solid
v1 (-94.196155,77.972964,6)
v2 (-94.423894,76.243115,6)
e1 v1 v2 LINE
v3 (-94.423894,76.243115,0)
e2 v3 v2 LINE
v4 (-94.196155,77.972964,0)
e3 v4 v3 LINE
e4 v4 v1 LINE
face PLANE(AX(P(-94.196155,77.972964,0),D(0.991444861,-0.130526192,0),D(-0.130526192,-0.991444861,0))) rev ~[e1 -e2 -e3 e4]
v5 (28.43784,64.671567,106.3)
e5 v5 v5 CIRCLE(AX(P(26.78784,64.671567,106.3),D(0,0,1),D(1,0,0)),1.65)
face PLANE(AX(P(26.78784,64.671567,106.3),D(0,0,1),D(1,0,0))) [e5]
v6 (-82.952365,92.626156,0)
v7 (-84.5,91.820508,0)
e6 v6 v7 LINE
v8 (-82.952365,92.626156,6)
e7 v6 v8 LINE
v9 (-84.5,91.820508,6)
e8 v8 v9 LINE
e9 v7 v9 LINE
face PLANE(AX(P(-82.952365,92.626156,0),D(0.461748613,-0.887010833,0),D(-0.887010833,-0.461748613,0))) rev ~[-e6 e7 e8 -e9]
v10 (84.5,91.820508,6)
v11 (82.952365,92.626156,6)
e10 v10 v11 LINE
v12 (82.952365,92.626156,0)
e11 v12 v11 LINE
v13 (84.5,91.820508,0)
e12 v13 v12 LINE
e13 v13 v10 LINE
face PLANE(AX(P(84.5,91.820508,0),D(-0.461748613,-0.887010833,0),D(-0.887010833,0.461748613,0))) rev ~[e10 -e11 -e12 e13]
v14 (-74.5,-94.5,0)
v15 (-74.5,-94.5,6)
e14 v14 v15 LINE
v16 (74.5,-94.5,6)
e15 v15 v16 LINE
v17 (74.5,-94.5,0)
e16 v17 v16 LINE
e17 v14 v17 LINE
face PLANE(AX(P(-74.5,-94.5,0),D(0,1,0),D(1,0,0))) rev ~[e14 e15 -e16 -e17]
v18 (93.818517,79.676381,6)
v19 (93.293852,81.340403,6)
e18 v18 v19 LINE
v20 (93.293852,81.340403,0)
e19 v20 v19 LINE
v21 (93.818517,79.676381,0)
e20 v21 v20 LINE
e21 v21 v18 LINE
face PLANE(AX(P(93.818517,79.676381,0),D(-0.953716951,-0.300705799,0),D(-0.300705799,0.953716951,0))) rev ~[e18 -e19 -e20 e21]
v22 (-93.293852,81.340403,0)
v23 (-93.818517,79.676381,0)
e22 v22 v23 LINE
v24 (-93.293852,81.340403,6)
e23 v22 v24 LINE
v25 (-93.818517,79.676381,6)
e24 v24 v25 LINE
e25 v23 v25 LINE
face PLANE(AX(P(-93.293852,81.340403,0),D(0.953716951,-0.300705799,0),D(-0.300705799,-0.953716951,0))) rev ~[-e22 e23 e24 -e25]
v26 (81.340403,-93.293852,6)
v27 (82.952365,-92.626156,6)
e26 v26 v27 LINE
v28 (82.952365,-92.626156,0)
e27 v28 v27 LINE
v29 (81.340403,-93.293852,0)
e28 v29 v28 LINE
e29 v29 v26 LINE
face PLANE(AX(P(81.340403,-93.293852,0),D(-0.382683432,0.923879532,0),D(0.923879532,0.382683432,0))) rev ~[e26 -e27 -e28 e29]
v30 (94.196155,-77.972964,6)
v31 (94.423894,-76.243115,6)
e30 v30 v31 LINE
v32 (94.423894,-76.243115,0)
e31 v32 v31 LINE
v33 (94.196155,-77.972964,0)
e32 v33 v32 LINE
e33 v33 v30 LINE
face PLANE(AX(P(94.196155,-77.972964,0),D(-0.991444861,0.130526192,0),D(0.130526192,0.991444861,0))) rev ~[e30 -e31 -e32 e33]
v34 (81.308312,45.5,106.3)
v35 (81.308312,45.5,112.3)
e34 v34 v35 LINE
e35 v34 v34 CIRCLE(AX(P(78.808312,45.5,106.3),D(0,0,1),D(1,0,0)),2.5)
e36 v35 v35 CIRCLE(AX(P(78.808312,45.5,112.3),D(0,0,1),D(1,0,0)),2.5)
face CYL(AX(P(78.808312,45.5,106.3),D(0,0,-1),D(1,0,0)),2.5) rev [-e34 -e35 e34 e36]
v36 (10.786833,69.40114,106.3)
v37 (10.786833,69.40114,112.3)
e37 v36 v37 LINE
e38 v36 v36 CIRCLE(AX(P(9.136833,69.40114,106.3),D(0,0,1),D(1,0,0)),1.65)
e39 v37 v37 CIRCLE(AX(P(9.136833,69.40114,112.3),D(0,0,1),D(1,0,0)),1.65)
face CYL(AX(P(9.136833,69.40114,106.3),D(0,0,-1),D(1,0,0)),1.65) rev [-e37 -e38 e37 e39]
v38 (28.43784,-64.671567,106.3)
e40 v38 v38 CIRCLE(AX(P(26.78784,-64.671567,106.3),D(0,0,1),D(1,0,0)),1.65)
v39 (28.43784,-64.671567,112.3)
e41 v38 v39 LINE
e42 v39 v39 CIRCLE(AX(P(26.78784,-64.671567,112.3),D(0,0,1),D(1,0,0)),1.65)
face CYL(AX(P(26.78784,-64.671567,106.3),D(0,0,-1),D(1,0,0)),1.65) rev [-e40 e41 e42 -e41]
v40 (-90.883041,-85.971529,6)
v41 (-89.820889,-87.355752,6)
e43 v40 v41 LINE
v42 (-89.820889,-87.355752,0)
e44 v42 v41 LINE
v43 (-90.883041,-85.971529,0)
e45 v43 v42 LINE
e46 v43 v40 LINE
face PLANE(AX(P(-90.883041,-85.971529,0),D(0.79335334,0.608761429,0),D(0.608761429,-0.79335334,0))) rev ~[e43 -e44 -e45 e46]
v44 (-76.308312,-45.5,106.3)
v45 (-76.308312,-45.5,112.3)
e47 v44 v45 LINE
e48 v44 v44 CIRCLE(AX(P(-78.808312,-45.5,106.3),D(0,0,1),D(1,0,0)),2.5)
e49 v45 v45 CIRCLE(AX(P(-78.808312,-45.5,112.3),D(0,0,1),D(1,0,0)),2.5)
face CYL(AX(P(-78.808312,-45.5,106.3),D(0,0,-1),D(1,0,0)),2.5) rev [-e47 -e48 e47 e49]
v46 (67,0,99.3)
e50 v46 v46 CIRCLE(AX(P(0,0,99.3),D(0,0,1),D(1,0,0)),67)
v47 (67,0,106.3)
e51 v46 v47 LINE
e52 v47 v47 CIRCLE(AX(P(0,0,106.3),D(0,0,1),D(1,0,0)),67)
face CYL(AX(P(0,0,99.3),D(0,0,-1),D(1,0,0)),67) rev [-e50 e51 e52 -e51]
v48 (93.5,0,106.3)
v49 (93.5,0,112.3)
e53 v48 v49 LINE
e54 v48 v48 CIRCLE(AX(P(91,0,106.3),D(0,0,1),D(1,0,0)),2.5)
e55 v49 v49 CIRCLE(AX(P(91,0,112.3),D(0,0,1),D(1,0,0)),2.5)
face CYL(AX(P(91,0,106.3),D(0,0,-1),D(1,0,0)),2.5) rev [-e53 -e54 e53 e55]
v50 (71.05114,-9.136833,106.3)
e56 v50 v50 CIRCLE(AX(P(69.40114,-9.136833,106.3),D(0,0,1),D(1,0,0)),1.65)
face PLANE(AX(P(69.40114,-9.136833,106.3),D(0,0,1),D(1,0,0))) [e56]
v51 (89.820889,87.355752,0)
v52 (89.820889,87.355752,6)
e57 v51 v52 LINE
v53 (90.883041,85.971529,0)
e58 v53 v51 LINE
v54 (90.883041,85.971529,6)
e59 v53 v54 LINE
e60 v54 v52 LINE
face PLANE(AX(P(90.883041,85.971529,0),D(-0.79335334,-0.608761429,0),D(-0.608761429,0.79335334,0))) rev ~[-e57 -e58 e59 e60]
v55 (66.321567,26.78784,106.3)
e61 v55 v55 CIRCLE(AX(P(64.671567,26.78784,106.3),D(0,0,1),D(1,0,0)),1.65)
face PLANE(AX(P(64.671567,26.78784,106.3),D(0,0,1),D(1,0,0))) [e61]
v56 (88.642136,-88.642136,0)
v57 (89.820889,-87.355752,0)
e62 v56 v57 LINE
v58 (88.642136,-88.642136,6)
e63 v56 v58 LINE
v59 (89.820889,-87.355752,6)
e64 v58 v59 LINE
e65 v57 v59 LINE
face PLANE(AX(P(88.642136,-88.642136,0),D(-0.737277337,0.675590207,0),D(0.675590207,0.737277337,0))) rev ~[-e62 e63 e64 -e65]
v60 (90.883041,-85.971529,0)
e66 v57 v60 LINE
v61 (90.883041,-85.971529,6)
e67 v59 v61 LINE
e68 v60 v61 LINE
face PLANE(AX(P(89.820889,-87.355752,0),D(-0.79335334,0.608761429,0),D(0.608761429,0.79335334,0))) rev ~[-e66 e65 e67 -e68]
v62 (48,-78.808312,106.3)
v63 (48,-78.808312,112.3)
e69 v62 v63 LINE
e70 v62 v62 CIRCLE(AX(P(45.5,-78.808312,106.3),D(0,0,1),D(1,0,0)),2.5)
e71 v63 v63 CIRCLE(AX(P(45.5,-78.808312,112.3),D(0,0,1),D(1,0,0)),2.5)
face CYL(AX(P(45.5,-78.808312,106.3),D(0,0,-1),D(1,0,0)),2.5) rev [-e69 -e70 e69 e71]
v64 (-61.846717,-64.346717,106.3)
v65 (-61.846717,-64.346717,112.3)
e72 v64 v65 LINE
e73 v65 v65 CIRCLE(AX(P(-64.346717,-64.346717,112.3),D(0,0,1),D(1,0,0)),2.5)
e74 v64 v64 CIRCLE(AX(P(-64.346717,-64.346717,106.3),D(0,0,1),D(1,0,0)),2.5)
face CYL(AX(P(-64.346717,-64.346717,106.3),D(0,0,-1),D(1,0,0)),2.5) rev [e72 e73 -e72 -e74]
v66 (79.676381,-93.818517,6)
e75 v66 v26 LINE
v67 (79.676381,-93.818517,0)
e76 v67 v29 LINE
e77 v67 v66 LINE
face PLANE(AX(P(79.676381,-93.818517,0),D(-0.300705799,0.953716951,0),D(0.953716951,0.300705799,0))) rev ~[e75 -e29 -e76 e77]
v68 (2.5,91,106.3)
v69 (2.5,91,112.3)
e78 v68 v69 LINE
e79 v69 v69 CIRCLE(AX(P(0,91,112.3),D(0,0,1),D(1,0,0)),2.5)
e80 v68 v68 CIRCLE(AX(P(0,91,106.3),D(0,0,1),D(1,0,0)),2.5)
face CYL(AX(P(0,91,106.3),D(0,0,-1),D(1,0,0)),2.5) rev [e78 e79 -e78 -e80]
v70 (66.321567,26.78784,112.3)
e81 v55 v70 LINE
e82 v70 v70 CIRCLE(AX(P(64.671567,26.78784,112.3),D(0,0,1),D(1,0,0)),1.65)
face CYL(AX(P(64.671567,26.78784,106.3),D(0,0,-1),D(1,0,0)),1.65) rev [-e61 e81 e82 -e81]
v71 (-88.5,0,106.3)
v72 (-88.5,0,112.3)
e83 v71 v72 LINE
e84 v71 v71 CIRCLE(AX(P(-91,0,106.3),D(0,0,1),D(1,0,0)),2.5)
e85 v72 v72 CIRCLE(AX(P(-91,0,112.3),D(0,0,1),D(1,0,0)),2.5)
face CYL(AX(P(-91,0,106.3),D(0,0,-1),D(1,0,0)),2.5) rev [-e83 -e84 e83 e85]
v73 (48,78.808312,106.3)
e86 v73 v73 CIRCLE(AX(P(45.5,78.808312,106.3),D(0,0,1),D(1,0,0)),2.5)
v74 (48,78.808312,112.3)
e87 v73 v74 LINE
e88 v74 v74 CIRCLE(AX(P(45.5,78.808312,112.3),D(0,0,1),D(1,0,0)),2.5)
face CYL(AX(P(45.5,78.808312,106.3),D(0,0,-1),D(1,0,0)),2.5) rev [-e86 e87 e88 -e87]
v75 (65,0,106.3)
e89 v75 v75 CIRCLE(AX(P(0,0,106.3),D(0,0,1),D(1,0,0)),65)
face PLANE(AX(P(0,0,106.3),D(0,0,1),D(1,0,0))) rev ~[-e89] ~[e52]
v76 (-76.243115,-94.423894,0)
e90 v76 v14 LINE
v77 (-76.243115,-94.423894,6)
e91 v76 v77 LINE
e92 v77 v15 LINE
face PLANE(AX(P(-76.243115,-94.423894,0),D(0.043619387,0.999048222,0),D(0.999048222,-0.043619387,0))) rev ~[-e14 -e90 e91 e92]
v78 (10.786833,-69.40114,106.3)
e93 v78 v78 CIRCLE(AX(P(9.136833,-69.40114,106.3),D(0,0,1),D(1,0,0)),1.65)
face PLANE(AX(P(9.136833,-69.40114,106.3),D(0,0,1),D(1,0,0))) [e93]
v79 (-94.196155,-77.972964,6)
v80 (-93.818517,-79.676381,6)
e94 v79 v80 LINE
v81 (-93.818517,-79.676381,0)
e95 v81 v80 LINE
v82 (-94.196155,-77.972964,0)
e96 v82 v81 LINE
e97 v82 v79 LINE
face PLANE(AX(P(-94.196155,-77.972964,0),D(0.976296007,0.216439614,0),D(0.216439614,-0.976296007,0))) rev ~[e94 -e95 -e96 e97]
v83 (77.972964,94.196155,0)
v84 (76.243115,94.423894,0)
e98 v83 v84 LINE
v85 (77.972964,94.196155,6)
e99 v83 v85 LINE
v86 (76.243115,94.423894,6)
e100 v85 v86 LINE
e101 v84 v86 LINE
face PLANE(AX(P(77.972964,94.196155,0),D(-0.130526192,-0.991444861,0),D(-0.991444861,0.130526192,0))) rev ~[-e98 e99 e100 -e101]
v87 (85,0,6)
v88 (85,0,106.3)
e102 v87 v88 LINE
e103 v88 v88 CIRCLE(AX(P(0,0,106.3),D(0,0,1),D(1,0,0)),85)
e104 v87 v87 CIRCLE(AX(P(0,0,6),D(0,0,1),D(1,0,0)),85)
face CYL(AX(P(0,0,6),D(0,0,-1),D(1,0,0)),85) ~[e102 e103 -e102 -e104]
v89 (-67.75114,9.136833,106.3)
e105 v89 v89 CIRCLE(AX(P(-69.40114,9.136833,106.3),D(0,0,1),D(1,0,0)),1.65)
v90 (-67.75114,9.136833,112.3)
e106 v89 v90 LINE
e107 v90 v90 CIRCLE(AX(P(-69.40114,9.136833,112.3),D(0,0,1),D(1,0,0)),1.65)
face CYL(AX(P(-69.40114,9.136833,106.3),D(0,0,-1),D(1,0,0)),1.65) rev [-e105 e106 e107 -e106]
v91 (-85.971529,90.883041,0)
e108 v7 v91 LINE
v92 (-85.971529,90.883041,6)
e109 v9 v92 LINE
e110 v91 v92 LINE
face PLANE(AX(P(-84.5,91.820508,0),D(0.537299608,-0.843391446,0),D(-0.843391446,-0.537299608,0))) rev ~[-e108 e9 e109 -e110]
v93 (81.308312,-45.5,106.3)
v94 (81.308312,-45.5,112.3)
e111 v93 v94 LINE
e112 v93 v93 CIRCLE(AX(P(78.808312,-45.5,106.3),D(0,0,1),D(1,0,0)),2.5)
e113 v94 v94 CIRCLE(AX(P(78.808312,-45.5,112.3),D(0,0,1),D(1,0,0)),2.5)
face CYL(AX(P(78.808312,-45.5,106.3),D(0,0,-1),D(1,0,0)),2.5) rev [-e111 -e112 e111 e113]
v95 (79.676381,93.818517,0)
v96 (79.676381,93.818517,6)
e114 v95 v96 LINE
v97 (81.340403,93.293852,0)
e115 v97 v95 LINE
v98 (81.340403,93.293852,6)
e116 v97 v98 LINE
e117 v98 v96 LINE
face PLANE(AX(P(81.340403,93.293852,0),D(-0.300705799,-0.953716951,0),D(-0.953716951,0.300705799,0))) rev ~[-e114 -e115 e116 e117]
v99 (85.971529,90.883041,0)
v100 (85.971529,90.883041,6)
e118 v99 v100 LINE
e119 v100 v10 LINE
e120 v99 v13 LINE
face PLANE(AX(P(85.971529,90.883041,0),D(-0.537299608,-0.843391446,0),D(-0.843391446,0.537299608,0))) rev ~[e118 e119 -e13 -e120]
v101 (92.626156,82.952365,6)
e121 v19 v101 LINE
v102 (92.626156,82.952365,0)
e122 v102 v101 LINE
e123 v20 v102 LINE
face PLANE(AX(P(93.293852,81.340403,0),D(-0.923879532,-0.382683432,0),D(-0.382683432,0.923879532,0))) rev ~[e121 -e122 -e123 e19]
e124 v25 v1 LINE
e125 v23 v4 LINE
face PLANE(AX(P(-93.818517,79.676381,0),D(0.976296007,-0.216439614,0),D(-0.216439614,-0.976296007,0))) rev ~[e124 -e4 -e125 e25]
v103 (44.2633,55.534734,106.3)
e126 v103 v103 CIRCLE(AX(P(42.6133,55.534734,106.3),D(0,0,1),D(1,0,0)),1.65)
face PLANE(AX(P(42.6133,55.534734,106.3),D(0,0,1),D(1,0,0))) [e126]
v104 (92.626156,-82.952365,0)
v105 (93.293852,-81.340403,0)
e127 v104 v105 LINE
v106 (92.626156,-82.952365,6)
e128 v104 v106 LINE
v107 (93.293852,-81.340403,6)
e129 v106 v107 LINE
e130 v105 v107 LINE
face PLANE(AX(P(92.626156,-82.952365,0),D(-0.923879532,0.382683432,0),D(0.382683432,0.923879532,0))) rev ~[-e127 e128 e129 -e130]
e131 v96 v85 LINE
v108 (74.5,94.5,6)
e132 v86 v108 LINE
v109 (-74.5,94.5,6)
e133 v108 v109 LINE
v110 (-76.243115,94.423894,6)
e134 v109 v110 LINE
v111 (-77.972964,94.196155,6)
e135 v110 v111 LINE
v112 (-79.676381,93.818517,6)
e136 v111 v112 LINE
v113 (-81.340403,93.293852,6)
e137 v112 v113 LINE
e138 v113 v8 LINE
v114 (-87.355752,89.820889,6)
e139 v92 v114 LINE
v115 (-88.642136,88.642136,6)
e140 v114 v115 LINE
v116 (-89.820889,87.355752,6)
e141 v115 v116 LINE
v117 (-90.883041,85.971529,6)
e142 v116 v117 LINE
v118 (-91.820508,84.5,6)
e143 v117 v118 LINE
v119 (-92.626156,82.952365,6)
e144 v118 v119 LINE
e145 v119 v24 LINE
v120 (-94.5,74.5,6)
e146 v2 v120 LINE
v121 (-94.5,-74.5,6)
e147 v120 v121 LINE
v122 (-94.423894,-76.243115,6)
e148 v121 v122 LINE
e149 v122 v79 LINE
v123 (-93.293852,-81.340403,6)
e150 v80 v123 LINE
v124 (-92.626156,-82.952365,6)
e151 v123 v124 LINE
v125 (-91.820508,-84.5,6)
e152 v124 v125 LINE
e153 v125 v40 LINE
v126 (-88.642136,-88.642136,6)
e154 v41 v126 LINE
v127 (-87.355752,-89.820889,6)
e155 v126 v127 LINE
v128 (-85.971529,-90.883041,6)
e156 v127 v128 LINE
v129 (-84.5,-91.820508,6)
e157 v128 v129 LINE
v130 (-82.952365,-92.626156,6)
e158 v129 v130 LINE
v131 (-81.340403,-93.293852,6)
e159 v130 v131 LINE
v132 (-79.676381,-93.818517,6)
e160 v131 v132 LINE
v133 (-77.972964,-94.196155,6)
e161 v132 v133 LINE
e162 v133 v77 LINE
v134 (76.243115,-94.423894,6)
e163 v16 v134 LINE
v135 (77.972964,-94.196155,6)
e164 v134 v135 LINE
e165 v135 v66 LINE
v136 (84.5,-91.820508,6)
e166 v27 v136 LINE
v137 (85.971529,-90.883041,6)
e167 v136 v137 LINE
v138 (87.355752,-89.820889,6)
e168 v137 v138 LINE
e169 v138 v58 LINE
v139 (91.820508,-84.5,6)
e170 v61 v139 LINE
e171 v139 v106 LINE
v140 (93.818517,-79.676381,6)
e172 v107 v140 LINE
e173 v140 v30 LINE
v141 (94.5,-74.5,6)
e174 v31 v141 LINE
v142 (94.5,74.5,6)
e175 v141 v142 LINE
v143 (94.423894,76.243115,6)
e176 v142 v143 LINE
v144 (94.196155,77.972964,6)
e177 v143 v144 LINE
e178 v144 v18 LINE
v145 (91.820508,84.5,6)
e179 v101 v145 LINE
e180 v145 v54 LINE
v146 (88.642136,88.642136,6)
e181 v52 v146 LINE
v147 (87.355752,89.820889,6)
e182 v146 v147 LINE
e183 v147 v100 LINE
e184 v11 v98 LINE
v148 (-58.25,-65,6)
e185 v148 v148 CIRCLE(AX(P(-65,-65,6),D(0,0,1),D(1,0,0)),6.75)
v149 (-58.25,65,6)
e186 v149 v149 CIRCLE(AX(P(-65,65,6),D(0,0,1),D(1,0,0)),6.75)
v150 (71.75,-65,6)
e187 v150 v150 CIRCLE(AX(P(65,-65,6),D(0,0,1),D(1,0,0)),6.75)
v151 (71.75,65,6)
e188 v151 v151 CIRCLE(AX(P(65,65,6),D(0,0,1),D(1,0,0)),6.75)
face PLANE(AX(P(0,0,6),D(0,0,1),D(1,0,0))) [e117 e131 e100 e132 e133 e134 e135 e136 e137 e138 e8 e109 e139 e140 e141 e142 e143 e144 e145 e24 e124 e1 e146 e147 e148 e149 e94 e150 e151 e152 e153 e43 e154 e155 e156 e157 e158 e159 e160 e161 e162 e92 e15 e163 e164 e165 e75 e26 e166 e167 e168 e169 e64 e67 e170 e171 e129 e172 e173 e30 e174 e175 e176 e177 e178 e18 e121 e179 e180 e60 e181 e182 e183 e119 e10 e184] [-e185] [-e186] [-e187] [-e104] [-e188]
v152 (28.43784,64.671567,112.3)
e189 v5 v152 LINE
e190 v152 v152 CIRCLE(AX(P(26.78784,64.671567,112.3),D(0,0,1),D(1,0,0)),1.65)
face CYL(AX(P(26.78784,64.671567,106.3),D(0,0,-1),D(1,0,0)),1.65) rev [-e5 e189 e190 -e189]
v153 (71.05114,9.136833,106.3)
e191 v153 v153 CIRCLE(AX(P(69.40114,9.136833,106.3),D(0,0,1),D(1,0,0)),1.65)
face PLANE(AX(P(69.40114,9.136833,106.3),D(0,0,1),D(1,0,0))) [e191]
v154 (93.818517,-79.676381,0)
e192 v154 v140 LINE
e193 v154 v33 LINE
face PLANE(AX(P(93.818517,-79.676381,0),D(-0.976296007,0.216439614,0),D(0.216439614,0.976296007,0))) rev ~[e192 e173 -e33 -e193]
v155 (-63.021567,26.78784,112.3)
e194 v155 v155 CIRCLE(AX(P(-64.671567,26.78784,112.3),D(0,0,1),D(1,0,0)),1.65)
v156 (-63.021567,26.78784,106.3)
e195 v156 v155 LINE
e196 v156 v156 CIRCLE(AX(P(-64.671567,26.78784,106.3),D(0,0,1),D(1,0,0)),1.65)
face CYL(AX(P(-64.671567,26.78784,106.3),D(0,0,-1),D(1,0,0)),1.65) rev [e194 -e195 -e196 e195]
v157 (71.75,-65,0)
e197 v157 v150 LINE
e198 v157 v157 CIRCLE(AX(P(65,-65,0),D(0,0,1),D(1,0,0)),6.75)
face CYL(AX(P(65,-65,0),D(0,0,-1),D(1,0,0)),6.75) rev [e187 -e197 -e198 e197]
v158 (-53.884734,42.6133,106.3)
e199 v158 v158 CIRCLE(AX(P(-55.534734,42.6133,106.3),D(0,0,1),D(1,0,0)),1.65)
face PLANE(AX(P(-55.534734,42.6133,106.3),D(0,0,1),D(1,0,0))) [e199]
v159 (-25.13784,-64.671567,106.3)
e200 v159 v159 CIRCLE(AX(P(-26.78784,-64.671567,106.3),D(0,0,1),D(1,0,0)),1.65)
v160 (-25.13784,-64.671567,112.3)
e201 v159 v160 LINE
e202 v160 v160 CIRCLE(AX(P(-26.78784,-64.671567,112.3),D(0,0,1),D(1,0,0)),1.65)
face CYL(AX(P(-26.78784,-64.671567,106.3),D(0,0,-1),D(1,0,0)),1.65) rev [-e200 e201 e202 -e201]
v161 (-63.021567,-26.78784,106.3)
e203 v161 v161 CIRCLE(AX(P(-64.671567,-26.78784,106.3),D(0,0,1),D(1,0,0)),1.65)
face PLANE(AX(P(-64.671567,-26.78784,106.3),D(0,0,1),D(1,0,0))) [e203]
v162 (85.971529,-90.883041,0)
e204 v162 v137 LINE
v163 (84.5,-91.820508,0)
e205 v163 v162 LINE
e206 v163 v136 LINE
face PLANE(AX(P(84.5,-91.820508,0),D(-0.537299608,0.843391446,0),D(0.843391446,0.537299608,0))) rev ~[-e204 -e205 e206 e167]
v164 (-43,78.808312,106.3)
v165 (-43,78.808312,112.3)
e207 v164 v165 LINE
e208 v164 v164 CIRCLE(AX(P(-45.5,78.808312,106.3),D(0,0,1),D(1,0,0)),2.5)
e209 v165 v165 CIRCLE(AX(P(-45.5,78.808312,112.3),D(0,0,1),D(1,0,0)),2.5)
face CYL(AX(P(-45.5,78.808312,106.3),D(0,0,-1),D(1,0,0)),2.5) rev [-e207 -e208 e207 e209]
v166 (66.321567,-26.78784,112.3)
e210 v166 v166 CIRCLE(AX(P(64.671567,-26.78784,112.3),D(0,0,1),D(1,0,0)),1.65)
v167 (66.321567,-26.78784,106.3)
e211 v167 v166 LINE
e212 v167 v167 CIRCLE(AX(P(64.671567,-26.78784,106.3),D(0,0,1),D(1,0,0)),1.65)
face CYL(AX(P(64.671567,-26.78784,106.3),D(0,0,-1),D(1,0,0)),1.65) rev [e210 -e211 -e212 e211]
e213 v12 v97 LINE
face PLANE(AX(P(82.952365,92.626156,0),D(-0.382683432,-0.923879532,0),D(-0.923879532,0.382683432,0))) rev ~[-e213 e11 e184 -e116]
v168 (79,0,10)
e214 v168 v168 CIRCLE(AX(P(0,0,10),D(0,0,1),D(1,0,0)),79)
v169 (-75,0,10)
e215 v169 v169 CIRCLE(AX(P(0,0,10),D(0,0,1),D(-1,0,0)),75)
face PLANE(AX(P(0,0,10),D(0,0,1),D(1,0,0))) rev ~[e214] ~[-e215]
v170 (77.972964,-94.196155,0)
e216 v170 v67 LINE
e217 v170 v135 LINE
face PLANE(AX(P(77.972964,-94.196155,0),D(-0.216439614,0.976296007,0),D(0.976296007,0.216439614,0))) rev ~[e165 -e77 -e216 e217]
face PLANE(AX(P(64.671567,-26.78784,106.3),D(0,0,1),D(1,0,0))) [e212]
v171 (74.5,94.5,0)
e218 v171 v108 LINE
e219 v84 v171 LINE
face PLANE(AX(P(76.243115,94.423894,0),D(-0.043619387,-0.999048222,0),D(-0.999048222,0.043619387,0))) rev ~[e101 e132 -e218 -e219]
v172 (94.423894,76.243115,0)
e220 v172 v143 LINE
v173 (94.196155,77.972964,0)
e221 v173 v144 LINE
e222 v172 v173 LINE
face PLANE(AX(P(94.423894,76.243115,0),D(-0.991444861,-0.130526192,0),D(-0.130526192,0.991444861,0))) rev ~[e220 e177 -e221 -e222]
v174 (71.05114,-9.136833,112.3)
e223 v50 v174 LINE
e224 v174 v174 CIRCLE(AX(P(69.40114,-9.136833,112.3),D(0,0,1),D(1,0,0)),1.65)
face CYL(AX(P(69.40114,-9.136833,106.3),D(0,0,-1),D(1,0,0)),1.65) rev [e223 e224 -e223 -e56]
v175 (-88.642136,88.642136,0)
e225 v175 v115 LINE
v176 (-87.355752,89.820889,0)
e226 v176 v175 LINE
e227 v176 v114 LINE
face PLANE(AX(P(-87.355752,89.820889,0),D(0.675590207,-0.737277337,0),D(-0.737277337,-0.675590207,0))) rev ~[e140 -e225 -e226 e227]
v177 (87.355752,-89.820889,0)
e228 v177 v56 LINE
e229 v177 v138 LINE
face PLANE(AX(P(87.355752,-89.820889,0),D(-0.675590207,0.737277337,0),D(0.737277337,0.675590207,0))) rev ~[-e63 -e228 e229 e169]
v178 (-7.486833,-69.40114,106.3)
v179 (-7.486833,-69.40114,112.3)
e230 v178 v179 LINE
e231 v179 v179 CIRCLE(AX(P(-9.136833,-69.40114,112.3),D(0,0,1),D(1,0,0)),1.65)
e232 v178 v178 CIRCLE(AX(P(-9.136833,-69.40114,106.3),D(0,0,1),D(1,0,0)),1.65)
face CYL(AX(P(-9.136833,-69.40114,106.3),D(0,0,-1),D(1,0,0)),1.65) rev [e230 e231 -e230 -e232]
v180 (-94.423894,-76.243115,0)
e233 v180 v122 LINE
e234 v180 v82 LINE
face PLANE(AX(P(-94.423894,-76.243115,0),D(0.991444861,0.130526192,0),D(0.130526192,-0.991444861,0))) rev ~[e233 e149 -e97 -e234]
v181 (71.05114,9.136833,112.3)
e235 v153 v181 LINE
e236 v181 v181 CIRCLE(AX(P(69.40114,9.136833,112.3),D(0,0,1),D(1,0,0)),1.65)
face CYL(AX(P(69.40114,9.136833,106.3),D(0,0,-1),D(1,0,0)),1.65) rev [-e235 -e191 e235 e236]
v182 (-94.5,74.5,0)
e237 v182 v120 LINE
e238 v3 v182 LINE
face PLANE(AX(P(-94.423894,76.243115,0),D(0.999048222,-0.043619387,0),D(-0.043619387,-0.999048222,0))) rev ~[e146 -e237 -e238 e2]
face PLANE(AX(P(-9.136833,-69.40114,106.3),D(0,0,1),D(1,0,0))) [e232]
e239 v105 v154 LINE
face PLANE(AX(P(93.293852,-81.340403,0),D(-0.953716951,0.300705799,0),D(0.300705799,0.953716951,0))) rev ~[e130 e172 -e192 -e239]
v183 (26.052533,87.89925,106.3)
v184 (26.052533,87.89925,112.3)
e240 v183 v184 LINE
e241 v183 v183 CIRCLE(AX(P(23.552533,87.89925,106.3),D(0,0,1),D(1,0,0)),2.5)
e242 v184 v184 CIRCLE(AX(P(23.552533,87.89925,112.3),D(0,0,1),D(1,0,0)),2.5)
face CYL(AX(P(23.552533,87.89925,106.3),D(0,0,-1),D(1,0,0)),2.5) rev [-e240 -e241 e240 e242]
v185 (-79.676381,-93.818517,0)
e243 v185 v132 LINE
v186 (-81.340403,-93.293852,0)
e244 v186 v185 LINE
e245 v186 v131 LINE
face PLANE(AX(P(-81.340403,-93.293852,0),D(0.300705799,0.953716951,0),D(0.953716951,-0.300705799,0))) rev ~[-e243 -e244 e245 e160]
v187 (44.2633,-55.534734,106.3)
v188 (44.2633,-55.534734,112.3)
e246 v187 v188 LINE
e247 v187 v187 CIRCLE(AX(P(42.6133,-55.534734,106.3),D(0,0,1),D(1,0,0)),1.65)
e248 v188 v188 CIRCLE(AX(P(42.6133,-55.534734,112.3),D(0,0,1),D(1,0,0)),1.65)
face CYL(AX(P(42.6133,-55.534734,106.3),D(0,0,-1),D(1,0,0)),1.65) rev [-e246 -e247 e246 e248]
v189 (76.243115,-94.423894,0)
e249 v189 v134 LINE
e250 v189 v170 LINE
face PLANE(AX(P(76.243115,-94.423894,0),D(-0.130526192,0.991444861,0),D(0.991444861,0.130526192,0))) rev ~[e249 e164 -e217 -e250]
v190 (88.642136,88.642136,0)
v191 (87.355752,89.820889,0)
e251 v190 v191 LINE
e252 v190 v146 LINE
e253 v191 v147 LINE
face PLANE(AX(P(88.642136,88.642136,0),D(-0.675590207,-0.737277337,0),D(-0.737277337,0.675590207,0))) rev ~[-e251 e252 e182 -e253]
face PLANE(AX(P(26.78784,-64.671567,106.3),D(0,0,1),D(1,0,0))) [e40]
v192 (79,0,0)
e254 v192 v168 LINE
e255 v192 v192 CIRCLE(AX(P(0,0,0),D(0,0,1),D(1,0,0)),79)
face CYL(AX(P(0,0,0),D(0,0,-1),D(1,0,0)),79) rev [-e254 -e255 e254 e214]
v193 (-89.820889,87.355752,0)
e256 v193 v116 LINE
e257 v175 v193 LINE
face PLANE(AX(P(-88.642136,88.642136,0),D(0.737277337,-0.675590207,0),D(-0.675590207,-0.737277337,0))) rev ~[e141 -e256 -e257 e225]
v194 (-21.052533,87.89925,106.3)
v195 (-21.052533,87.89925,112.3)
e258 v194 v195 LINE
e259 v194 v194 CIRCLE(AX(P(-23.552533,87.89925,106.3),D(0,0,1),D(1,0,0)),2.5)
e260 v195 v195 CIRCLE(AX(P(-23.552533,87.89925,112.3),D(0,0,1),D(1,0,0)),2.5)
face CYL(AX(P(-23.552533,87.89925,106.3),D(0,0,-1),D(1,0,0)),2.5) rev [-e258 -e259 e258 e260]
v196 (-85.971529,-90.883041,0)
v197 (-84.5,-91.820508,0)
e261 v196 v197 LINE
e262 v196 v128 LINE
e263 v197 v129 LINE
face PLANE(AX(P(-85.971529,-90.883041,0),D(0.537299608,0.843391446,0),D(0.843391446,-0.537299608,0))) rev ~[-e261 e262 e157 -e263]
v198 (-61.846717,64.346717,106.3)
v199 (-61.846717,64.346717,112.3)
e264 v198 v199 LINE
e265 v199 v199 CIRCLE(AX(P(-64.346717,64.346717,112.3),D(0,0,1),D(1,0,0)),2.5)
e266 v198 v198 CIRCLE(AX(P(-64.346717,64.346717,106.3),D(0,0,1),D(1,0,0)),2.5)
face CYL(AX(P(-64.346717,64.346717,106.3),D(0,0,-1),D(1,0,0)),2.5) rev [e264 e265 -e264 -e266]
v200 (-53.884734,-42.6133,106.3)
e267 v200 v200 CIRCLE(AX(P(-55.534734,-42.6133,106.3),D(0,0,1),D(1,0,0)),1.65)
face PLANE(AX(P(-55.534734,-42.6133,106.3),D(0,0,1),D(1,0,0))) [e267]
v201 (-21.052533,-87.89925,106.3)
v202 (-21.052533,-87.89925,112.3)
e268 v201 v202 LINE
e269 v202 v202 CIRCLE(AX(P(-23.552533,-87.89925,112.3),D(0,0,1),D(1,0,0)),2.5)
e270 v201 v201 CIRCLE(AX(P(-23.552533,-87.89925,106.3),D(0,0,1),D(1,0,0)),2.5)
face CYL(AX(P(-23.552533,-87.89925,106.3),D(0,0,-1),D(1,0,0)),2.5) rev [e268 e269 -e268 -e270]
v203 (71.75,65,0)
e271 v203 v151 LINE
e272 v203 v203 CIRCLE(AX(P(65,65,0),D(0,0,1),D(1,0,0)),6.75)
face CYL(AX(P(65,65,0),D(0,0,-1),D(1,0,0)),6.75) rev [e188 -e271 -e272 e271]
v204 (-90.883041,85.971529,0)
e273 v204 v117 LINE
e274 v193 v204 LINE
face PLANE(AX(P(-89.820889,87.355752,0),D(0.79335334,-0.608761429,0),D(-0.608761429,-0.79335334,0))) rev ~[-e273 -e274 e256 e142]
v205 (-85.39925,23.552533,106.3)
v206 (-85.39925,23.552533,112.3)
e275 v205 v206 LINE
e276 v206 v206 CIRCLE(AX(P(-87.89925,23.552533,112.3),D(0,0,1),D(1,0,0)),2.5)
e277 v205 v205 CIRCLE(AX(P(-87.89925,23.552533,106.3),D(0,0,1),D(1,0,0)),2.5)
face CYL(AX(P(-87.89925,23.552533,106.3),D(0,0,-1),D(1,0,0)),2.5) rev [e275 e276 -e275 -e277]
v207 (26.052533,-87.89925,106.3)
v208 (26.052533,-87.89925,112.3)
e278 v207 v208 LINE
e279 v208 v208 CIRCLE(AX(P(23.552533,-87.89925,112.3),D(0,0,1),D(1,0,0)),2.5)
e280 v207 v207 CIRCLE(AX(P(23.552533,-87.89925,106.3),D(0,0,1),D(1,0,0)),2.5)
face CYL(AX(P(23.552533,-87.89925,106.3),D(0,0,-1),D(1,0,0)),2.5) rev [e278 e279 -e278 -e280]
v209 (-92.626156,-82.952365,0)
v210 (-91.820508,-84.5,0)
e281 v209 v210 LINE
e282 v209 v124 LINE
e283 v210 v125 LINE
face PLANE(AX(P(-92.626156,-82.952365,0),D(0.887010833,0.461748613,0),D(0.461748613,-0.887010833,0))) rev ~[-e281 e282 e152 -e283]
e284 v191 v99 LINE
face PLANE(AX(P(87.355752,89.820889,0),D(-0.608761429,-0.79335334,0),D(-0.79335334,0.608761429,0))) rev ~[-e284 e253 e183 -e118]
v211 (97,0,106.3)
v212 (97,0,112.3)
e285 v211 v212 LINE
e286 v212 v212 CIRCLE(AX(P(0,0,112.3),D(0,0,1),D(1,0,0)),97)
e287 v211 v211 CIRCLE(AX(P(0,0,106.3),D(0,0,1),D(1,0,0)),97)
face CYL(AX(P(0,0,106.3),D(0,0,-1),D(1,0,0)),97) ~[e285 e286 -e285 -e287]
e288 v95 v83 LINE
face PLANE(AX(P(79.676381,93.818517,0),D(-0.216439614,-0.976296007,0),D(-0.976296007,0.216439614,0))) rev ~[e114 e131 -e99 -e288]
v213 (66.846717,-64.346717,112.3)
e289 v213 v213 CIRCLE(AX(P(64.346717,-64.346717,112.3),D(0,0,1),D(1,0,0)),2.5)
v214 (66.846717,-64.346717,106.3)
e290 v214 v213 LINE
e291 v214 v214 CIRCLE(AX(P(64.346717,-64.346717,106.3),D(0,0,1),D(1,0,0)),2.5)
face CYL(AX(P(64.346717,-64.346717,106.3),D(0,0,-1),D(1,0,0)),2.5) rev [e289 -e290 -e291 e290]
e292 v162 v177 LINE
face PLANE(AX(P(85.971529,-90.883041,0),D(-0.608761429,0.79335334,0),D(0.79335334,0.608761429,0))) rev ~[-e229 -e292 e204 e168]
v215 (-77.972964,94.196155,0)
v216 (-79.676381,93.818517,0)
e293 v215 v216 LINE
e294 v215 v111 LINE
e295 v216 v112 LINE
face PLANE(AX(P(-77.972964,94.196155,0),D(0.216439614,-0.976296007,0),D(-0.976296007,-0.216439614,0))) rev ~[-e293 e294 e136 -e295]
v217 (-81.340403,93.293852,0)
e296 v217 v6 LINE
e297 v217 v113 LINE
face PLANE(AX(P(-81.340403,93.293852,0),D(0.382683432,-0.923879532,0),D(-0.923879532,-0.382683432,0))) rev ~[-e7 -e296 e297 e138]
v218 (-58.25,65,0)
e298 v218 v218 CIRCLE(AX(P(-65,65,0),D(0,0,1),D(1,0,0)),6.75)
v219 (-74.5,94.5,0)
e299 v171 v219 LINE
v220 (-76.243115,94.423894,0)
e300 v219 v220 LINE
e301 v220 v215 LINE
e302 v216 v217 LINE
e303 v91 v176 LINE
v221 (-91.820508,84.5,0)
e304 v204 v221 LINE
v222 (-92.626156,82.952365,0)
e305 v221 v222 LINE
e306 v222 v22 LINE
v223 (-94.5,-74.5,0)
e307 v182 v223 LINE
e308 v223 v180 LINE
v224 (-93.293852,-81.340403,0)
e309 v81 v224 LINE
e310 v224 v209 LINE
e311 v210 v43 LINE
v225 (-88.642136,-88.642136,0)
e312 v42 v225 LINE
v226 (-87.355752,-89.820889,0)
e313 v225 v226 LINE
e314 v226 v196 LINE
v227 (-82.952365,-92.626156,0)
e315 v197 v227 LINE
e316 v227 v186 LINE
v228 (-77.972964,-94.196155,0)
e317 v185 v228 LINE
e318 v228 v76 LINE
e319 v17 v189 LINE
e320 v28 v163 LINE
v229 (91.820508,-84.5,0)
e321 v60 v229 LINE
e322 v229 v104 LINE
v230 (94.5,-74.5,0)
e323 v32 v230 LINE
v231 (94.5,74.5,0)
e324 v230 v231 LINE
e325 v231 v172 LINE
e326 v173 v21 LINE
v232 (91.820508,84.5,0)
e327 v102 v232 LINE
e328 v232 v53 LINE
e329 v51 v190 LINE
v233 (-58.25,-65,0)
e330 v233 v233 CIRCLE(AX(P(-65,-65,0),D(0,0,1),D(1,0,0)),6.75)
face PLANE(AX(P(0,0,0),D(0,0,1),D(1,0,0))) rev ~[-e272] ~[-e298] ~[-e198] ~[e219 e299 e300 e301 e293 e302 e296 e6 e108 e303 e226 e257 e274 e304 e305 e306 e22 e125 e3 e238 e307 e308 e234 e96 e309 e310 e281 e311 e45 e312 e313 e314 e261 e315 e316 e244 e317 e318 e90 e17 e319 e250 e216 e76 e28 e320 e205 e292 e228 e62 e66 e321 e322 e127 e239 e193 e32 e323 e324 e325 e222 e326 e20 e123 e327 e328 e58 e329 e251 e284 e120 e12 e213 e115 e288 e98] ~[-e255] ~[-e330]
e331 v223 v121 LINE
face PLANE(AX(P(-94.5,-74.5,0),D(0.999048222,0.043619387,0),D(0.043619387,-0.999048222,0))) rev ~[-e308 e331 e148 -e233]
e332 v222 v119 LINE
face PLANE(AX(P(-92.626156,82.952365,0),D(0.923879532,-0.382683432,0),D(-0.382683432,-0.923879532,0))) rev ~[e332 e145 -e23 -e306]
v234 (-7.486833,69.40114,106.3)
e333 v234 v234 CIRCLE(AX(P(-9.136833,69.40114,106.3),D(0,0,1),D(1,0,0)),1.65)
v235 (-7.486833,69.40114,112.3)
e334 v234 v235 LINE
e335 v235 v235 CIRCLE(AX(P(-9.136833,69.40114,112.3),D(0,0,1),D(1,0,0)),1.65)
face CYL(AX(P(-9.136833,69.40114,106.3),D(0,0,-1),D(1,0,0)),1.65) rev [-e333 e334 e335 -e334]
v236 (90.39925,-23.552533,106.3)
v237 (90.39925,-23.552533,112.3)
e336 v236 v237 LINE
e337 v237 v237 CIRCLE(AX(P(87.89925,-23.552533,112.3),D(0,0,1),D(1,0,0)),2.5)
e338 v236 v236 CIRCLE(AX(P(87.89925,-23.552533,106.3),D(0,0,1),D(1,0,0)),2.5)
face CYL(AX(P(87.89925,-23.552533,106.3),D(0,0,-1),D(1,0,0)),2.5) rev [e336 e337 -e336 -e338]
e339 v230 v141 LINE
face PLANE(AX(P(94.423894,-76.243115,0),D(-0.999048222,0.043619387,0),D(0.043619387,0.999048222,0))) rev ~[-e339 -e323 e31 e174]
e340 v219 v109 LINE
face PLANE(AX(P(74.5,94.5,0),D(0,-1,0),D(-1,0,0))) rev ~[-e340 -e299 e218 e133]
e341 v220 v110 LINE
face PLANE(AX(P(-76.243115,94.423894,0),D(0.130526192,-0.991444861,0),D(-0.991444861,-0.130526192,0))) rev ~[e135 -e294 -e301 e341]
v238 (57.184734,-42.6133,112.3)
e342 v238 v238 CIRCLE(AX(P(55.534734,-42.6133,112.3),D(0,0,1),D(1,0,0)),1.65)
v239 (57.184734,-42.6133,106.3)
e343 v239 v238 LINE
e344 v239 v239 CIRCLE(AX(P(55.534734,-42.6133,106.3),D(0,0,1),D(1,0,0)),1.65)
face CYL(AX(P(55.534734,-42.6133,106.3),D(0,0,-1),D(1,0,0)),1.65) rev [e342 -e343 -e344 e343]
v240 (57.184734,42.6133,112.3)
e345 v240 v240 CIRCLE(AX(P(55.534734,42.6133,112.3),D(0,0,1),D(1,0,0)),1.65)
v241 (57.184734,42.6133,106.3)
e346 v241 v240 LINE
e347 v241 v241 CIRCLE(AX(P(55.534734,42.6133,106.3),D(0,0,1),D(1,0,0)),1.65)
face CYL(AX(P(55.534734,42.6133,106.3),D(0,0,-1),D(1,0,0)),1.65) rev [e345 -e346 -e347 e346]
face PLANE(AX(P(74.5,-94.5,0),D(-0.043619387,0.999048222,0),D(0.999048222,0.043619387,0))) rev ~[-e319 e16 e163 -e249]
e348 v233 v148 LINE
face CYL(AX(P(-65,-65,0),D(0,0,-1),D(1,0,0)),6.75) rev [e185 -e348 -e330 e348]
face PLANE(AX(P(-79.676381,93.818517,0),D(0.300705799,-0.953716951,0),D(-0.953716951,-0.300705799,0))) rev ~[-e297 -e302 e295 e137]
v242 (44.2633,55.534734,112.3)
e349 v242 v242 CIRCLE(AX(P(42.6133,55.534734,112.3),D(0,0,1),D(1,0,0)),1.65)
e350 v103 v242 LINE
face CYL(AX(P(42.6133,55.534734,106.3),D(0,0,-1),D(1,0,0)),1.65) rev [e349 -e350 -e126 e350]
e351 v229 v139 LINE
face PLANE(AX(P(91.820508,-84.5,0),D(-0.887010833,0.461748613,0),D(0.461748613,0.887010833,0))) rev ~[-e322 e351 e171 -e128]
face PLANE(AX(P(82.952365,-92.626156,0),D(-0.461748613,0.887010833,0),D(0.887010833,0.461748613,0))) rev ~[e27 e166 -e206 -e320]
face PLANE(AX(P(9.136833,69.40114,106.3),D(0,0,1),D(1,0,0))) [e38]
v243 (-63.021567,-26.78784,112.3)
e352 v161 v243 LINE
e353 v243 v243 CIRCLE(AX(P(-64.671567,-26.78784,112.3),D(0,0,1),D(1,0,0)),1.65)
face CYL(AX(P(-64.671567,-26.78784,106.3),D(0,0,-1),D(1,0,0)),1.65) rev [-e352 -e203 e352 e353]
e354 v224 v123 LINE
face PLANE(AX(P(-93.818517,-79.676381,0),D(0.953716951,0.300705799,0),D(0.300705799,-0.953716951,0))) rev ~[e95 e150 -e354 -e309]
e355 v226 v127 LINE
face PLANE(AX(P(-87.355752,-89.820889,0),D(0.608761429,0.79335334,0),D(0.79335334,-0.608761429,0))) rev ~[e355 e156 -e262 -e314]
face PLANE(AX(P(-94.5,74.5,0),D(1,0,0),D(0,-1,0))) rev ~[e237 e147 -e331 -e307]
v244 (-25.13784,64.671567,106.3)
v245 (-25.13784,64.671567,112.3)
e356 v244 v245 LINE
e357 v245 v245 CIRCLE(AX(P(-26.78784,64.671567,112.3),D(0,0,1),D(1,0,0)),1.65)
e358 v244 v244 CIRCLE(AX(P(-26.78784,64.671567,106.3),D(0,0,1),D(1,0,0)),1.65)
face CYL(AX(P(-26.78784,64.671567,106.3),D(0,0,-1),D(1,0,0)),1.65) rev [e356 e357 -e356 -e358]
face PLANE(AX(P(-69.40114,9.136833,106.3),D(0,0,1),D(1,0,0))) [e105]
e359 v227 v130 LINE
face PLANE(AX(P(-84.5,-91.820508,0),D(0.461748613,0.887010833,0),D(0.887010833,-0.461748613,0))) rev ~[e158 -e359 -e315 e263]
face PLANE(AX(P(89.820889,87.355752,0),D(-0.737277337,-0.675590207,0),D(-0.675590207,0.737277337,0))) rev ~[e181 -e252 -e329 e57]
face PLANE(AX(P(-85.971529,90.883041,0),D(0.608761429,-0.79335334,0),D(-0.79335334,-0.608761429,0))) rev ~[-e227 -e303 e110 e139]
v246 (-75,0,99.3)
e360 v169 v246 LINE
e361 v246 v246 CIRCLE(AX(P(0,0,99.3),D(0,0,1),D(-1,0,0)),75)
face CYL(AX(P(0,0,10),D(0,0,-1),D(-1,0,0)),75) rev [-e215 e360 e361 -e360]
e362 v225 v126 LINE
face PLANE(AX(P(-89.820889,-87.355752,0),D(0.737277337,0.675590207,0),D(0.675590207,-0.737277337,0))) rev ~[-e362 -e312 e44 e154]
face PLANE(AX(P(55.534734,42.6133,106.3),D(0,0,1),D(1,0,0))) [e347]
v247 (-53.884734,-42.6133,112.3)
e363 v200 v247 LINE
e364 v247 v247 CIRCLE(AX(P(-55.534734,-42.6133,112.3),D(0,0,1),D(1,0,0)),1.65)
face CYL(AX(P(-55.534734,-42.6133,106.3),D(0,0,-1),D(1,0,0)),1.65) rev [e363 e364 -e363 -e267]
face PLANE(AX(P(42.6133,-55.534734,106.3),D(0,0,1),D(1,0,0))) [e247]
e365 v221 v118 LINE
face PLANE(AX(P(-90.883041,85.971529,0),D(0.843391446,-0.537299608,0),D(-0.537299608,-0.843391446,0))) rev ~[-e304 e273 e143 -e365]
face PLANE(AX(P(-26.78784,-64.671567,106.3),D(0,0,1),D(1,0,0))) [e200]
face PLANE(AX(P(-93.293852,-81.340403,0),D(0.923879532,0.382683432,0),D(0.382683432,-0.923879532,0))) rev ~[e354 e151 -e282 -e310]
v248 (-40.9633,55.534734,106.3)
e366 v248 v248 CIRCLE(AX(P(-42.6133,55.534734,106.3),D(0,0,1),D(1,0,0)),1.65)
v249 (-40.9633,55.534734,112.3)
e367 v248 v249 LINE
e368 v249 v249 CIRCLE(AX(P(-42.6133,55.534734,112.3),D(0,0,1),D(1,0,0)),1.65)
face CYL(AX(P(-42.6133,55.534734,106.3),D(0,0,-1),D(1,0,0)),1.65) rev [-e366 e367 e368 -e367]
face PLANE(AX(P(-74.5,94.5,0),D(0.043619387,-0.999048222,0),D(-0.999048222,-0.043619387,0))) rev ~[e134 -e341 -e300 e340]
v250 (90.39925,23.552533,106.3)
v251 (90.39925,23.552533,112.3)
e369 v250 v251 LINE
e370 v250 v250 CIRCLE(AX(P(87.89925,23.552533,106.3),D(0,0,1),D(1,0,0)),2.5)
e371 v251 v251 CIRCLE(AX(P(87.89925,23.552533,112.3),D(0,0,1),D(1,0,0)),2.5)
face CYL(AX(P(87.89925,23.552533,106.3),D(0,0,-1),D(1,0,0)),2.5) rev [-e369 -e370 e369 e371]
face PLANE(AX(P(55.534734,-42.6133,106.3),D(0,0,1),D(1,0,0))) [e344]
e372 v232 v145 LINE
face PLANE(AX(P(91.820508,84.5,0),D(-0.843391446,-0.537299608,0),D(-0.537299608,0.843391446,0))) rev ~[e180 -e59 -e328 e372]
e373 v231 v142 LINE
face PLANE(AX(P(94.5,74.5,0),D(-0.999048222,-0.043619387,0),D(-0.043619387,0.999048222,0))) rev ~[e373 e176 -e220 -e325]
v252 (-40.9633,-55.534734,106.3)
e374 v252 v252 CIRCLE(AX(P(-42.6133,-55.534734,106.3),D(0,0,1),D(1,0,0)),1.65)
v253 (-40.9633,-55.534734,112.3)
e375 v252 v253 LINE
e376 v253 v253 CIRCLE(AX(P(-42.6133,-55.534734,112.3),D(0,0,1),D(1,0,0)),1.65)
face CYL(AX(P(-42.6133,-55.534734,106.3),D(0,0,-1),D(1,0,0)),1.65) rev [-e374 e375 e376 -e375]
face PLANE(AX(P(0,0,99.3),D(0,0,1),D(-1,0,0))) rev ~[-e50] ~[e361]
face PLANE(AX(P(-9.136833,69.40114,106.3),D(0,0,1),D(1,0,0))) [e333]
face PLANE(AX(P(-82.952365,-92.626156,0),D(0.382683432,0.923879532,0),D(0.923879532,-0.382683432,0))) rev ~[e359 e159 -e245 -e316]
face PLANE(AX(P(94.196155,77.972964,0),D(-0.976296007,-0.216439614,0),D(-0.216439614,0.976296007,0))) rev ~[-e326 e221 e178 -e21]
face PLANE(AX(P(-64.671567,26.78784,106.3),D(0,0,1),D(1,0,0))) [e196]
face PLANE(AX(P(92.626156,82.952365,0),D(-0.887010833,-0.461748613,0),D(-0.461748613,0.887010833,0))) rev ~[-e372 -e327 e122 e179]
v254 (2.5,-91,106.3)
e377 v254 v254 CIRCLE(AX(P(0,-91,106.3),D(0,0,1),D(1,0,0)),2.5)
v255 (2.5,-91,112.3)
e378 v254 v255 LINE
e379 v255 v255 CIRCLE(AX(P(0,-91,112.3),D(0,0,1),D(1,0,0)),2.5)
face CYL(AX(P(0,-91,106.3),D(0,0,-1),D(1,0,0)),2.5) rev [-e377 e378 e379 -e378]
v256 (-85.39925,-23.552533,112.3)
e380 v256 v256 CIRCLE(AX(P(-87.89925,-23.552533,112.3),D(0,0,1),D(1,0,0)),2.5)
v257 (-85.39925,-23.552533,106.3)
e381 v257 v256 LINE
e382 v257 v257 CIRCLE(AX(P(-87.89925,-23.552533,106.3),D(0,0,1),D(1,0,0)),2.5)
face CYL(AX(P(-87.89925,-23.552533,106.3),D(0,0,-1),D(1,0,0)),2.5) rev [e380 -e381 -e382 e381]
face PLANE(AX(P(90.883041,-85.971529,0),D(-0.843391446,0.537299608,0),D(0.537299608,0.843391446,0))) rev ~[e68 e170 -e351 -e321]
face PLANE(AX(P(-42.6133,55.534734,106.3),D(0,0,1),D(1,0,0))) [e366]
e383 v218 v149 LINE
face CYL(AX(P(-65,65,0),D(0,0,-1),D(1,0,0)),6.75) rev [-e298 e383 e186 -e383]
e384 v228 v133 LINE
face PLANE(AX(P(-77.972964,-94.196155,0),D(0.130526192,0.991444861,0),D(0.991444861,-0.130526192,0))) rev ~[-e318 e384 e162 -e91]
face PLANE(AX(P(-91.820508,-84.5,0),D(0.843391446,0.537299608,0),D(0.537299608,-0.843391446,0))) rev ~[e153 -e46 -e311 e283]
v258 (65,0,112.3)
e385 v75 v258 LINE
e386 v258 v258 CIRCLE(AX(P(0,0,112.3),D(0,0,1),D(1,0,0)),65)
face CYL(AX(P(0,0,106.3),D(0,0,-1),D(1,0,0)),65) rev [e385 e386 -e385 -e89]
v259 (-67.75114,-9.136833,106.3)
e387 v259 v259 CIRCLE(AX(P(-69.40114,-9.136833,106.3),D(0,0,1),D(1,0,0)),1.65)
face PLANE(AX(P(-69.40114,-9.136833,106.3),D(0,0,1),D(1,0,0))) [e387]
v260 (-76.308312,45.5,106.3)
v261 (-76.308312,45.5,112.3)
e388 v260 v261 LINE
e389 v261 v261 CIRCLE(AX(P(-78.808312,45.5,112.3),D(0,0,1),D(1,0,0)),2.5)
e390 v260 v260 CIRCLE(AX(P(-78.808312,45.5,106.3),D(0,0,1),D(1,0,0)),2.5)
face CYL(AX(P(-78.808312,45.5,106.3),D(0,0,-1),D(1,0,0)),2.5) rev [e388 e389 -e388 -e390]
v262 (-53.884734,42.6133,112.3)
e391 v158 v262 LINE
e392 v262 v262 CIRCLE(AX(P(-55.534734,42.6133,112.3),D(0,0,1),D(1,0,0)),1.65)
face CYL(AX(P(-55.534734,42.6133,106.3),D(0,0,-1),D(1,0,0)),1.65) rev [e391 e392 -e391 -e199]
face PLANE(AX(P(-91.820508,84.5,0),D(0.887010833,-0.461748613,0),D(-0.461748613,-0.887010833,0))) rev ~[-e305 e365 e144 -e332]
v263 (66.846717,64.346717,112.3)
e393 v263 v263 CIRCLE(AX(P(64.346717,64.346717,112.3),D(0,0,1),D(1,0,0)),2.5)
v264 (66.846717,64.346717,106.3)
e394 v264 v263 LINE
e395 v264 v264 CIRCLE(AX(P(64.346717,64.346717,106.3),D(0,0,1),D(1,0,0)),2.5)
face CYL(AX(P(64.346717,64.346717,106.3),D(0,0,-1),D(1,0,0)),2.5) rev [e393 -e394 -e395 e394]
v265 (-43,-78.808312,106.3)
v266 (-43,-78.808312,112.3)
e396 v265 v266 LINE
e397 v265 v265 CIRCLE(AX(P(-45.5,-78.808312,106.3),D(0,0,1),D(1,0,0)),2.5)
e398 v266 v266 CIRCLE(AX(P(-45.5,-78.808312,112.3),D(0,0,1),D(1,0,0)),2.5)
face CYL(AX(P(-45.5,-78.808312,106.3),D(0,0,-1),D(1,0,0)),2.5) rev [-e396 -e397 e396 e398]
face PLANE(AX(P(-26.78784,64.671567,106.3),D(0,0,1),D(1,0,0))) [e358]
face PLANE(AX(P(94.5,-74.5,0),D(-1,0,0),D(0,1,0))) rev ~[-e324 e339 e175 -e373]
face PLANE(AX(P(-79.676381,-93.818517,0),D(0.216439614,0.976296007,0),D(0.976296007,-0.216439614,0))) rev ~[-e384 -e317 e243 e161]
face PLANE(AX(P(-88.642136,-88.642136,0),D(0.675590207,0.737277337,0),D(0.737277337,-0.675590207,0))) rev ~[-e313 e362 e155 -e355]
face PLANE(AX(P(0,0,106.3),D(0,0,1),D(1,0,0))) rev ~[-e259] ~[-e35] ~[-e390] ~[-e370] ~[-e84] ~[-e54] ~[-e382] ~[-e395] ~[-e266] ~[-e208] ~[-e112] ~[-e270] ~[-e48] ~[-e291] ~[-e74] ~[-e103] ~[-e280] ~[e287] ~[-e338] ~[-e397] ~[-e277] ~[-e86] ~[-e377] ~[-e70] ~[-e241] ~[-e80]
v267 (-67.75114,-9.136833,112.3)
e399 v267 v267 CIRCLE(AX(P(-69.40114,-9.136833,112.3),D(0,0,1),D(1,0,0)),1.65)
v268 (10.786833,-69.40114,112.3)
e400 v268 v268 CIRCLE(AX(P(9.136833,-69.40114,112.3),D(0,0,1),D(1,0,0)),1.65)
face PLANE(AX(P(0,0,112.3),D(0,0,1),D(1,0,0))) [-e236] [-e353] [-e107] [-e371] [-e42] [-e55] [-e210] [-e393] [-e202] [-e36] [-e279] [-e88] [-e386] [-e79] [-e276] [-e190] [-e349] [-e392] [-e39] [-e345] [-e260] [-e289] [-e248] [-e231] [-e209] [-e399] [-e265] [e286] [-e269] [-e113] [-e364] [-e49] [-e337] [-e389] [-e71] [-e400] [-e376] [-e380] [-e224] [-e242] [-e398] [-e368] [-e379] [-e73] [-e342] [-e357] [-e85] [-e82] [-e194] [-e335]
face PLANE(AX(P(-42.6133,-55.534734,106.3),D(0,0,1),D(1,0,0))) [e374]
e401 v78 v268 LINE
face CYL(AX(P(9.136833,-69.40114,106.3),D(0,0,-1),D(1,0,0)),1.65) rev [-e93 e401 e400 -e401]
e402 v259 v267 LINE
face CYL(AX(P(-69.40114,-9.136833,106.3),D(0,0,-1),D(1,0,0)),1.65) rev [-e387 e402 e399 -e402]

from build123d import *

# Parameters (mm, degrees)
F_01_SQUARE_FLANGE_DEPTH = 6
SKETCH_2_R               = 85
F_02_TUBE_D170_DEPTH     = 100.3
SKETCH_3_R               = 97
F_03_FLANGE_D194_DEPTH   = 6
SKETCH_4_R               = 79
F_04_BORE_D158_DEPTH     = 10
SKETCH_5_R               = 75
F_05_BORE_D150_DEPTH     = 89.3
SKETCH_6_R               = 67
F_06_BORE_D134_DEPTH     = 7
SKETCH_7_R               = 65
F_07_BORE_D130_DEPTH     = 6
SKETCH_8_R               = 2.5
F_08_HOLES_24_D5_DEPTH   = 6
SKETCH_9_R               = 6.75
F_09_HOLES_4_D13_5_DEPTH = 6
SKETCH_10_R              = 1.65
F_10_HOLES_24_M4_DEPTH   = 6


with BuildPart() as part:
    # 草图1 → 01_SQUARE_FLANGE (new body)
    with BuildSketch(Plane.XY):
        Polygon((94.5, 74.5), (94.423893962, 76.243114855), (94.19615506, 77.972963553), (93.818516526, 79.676380902), (93.293852416, 81.340402867), (92.626155741, 82.952365235), (91.820508076, 84.5), (90.883040886, 85.971528727), (89.820888862, 87.355752194), (88.642135624, 88.642135624), (87.355752194, 89.820888862), (85.971528727, 90.883040886), (84.5, 91.820508076), (82.952365235, 92.626155741), (81.340402867, 93.293852416), (79.676380902, 93.818516526), (77.972963553, 94.19615506), (76.243114855, 94.423893962), (74.5, 94.5), (-74.5, 94.5), (-76.243114855, 94.423893962), (-77.972963553, 94.19615506), (-79.676380902, 93.818516526), (-81.340402867, 93.293852416), (-82.952365235, 92.626155741), (-84.5, 91.820508076), (-85.971528727, 90.883040886), (-87.355752194, 89.820888862), (-88.642135624, 88.642135624), (-89.820888862, 87.355752194), (-90.883040886, 85.971528727), (-91.820508076, 84.5), (-92.626155741, 82.952365235), (-93.293852416, 81.340402867), (-93.818516526, 79.676380902), (-94.19615506, 77.972963553), (-94.423893962, 76.243114855), (-94.5, 74.5), (-94.5, -74.5), (-94.423893962, -76.243114855), (-94.19615506, -77.972963553), (-93.818516526, -79.676380902), (-93.293852416, -81.340402867), (-92.626155741, -82.952365235), (-91.820508076, -84.5), (-90.883040886, -85.971528727), (-89.820888862, -87.355752194), (-88.642135624, -88.642135624), (-87.355752194, -89.820888862), (-85.971528727, -90.883040886), (-84.5, -91.820508076), (-82.952365235, -92.626155741), (-81.340402867, -93.293852416), (-79.676380902, -93.818516526), (-77.972963553, -94.19615506), (-76.243114855, -94.423893962), (-74.5, -94.5), (74.5, -94.5), (76.243114855, -94.423893962), (77.972963553, -94.19615506), (79.676380902, -93.818516526), (81.340402867, -93.293852416), (82.952365235, -92.626155741), (84.5, -91.820508076), (85.971528727, -90.883040886), (87.355752194, -89.820888862), (88.642135624, -88.642135624), (89.820888862, -87.355752194), (90.883040886, -85.971528727), (91.820508076, -84.5), (92.626155741, -82.952365235), (93.293852416, -81.340402867), (93.818516526, -79.676380902), (94.19615506, -77.972963553), (94.423893962, -76.243114855), (94.5, -74.5), align=None)
    extrude(amount=F_01_SQUARE_FLANGE_DEPTH)

    # 草图2 → 02_TUBE_D170 (add)
    with BuildSketch(Plane.XY.offset(6)):
        Circle(SKETCH_2_R)
    extrude(amount=F_02_TUBE_D170_DEPTH)

    # 草图3 → 03_FLANGE_D194 (add)
    with BuildSketch(Plane.XY.offset(106.3)):
        Circle(SKETCH_3_R)
    extrude(amount=F_03_FLANGE_D194_DEPTH)

    # 草图4 → 04_BORE_D158 (cut)
    with BuildSketch(Plane.XY):
        Circle(SKETCH_4_R)
    extrude(amount=F_04_BORE_D158_DEPTH, mode=Mode.SUBTRACT)

    # 草图5 → 05_BORE_D150 (cut)
    with BuildSketch(Plane.XY.offset(10)):
        with Locations(Location((0, 0, 0), (0, 0, 180))):
            Circle(SKETCH_5_R)
    extrude(amount=F_05_BORE_D150_DEPTH, mode=Mode.SUBTRACT)

    # 草图6 → 06_BORE_D134 (cut)
    with BuildSketch(Plane.XY.offset(99.3)):
        Circle(SKETCH_6_R)
    extrude(amount=F_06_BORE_D134_DEPTH, mode=Mode.SUBTRACT)

    # 草图7 → 07_BORE_D130 (cut)
    with BuildSketch(Plane.XY.offset(106.3)):
        Circle(SKETCH_7_R)
    extrude(amount=F_07_BORE_D130_DEPTH, mode=Mode.SUBTRACT)

    # 草图8 → 08_HOLES_24_D5 (cut)
    with BuildSketch(Plane.XY.offset(106.3)):
        with Locations((91, 0)):
            Circle(SKETCH_8_R)
        with Locations((87.899250192, 23.552533104)):
            Circle(SKETCH_8_R)
        with Locations((78.808311744, 45.5)):
            Circle(SKETCH_8_R)
        with Locations((64.346717088, 64.346717088)):
            Circle(SKETCH_8_R)
        with Locations((45.5, 78.808311744)):
            Circle(SKETCH_8_R)
        with Locations((23.552533104, 87.899250192)):
            Circle(SKETCH_8_R)
        with Locations((0, 91)):
            Circle(SKETCH_8_R)
        with Locations((-23.552533104, 87.899250192)):
            Circle(SKETCH_8_R)
        with Locations((-45.5, 78.808311744)):
            Circle(SKETCH_8_R)
        with Locations((-64.346717088, 64.346717088)):
            Circle(SKETCH_8_R)
        with Locations((-78.808311744, 45.5)):
            Circle(SKETCH_8_R)
        with Locations((-87.899250192, 23.552533104)):
            Circle(SKETCH_8_R)
        with Locations((-91, 0)):
            Circle(SKETCH_8_R)
        with Locations((-87.899250192, -23.552533104)):
            Circle(SKETCH_8_R)
        with Locations((-78.808311744, -45.5)):
            Circle(SKETCH_8_R)
        with Locations((-64.346717088, -64.346717088)):
            Circle(SKETCH_8_R)
        with Locations((-45.5, -78.808311744)):
            Circle(SKETCH_8_R)
        with Locations((-23.552533104, -87.899250192)):
            Circle(SKETCH_8_R)
        with Locations((0, -91)):
            Circle(SKETCH_8_R)
        with Locations((23.552533104, -87.899250192)):
            Circle(SKETCH_8_R)
        with Locations((45.5, -78.808311744)):
            Circle(SKETCH_8_R)
        with Locations((64.346717088, -64.346717088)):
            Circle(SKETCH_8_R)
        with Locations((78.808311744, -45.5)):
            Circle(SKETCH_8_R)
        with Locations((87.899250192, -23.552533104)):
            Circle(SKETCH_8_R)
    extrude(amount=F_08_HOLES_24_D5_DEPTH, mode=Mode.SUBTRACT)

    # 草图9 → 09_HOLES_4_D13.5 (cut)
    with BuildSketch(Plane.XY):
        with Locations((-65, -65)):
            Circle(SKETCH_9_R)
        with Locations((-65, 65)):
            Circle(SKETCH_9_R)
        with Locations((65, -65)):
            Circle(SKETCH_9_R)
        with Locations((65, 65)):
            Circle(SKETCH_9_R)
    extrude(amount=F_09_HOLES_4_D13_5_DEPTH, mode=Mode.SUBTRACT)

    # 草图10 → 10_HOLES_24_M4 (cut)
    with BuildSketch(Plane.XY.offset(106.3)):
        with Locations((69.401140296, 9.136833455)):
            Circle(SKETCH_10_R)
        with Locations((64.671567276, 26.787840266)):
            Circle(SKETCH_10_R)
        with Locations((55.53473382, 42.613300031)):
            Circle(SKETCH_10_R)
        with Locations((42.613300031, 55.53473382)):
            Circle(SKETCH_10_R)
        with Locations((26.787840266, 64.671567276)):
            Circle(SKETCH_10_R)
        with Locations((9.136833455, 69.401140296)):
            Circle(SKETCH_10_R)
        with Locations((-9.136833455, 69.401140296)):
            Circle(SKETCH_10_R)
        with Locations((-26.787840266, 64.671567276)):
            Circle(SKETCH_10_R)
        with Locations((-42.613300031, 55.53473382)):
            Circle(SKETCH_10_R)
        with Locations((-55.53473382, 42.613300031)):
            Circle(SKETCH_10_R)
        with Locations((-64.671567276, 26.787840266)):
            Circle(SKETCH_10_R)
        with Locations((-69.401140296, 9.136833455)):
            Circle(SKETCH_10_R)
        with Locations((-69.401140296, -9.136833455)):
            Circle(SKETCH_10_R)
        with Locations((-64.671567276, -26.787840266)):
            Circle(SKETCH_10_R)
        with Locations((-55.53473382, -42.613300031)):
            Circle(SKETCH_10_R)
        with Locations((-42.613300031, -55.53473382)):
            Circle(SKETCH_10_R)
        with Locations((-26.787840266, -64.671567276)):
            Circle(SKETCH_10_R)
        with Locations((-9.136833455, -69.401140296)):
            Circle(SKETCH_10_R)
        with Locations((9.136833455, -69.401140296)):
            Circle(SKETCH_10_R)
        with Locations((26.787840266, -64.671567276)):
            Circle(SKETCH_10_R)
        with Locations((42.613300031, -55.53473382)):
            Circle(SKETCH_10_R)
        with Locations((55.53473382, -42.613300031)):
            Circle(SKETCH_10_R)
        with Locations((64.671567276, -26.787840266)):
            Circle(SKETCH_10_R)
        with Locations((69.401140296, -9.136833455)):
            Circle(SKETCH_10_R)
    extrude(amount=F_10_HOLES_24_M4_DEPTH, mode=Mode.SUBTRACT)


solid = part.part
